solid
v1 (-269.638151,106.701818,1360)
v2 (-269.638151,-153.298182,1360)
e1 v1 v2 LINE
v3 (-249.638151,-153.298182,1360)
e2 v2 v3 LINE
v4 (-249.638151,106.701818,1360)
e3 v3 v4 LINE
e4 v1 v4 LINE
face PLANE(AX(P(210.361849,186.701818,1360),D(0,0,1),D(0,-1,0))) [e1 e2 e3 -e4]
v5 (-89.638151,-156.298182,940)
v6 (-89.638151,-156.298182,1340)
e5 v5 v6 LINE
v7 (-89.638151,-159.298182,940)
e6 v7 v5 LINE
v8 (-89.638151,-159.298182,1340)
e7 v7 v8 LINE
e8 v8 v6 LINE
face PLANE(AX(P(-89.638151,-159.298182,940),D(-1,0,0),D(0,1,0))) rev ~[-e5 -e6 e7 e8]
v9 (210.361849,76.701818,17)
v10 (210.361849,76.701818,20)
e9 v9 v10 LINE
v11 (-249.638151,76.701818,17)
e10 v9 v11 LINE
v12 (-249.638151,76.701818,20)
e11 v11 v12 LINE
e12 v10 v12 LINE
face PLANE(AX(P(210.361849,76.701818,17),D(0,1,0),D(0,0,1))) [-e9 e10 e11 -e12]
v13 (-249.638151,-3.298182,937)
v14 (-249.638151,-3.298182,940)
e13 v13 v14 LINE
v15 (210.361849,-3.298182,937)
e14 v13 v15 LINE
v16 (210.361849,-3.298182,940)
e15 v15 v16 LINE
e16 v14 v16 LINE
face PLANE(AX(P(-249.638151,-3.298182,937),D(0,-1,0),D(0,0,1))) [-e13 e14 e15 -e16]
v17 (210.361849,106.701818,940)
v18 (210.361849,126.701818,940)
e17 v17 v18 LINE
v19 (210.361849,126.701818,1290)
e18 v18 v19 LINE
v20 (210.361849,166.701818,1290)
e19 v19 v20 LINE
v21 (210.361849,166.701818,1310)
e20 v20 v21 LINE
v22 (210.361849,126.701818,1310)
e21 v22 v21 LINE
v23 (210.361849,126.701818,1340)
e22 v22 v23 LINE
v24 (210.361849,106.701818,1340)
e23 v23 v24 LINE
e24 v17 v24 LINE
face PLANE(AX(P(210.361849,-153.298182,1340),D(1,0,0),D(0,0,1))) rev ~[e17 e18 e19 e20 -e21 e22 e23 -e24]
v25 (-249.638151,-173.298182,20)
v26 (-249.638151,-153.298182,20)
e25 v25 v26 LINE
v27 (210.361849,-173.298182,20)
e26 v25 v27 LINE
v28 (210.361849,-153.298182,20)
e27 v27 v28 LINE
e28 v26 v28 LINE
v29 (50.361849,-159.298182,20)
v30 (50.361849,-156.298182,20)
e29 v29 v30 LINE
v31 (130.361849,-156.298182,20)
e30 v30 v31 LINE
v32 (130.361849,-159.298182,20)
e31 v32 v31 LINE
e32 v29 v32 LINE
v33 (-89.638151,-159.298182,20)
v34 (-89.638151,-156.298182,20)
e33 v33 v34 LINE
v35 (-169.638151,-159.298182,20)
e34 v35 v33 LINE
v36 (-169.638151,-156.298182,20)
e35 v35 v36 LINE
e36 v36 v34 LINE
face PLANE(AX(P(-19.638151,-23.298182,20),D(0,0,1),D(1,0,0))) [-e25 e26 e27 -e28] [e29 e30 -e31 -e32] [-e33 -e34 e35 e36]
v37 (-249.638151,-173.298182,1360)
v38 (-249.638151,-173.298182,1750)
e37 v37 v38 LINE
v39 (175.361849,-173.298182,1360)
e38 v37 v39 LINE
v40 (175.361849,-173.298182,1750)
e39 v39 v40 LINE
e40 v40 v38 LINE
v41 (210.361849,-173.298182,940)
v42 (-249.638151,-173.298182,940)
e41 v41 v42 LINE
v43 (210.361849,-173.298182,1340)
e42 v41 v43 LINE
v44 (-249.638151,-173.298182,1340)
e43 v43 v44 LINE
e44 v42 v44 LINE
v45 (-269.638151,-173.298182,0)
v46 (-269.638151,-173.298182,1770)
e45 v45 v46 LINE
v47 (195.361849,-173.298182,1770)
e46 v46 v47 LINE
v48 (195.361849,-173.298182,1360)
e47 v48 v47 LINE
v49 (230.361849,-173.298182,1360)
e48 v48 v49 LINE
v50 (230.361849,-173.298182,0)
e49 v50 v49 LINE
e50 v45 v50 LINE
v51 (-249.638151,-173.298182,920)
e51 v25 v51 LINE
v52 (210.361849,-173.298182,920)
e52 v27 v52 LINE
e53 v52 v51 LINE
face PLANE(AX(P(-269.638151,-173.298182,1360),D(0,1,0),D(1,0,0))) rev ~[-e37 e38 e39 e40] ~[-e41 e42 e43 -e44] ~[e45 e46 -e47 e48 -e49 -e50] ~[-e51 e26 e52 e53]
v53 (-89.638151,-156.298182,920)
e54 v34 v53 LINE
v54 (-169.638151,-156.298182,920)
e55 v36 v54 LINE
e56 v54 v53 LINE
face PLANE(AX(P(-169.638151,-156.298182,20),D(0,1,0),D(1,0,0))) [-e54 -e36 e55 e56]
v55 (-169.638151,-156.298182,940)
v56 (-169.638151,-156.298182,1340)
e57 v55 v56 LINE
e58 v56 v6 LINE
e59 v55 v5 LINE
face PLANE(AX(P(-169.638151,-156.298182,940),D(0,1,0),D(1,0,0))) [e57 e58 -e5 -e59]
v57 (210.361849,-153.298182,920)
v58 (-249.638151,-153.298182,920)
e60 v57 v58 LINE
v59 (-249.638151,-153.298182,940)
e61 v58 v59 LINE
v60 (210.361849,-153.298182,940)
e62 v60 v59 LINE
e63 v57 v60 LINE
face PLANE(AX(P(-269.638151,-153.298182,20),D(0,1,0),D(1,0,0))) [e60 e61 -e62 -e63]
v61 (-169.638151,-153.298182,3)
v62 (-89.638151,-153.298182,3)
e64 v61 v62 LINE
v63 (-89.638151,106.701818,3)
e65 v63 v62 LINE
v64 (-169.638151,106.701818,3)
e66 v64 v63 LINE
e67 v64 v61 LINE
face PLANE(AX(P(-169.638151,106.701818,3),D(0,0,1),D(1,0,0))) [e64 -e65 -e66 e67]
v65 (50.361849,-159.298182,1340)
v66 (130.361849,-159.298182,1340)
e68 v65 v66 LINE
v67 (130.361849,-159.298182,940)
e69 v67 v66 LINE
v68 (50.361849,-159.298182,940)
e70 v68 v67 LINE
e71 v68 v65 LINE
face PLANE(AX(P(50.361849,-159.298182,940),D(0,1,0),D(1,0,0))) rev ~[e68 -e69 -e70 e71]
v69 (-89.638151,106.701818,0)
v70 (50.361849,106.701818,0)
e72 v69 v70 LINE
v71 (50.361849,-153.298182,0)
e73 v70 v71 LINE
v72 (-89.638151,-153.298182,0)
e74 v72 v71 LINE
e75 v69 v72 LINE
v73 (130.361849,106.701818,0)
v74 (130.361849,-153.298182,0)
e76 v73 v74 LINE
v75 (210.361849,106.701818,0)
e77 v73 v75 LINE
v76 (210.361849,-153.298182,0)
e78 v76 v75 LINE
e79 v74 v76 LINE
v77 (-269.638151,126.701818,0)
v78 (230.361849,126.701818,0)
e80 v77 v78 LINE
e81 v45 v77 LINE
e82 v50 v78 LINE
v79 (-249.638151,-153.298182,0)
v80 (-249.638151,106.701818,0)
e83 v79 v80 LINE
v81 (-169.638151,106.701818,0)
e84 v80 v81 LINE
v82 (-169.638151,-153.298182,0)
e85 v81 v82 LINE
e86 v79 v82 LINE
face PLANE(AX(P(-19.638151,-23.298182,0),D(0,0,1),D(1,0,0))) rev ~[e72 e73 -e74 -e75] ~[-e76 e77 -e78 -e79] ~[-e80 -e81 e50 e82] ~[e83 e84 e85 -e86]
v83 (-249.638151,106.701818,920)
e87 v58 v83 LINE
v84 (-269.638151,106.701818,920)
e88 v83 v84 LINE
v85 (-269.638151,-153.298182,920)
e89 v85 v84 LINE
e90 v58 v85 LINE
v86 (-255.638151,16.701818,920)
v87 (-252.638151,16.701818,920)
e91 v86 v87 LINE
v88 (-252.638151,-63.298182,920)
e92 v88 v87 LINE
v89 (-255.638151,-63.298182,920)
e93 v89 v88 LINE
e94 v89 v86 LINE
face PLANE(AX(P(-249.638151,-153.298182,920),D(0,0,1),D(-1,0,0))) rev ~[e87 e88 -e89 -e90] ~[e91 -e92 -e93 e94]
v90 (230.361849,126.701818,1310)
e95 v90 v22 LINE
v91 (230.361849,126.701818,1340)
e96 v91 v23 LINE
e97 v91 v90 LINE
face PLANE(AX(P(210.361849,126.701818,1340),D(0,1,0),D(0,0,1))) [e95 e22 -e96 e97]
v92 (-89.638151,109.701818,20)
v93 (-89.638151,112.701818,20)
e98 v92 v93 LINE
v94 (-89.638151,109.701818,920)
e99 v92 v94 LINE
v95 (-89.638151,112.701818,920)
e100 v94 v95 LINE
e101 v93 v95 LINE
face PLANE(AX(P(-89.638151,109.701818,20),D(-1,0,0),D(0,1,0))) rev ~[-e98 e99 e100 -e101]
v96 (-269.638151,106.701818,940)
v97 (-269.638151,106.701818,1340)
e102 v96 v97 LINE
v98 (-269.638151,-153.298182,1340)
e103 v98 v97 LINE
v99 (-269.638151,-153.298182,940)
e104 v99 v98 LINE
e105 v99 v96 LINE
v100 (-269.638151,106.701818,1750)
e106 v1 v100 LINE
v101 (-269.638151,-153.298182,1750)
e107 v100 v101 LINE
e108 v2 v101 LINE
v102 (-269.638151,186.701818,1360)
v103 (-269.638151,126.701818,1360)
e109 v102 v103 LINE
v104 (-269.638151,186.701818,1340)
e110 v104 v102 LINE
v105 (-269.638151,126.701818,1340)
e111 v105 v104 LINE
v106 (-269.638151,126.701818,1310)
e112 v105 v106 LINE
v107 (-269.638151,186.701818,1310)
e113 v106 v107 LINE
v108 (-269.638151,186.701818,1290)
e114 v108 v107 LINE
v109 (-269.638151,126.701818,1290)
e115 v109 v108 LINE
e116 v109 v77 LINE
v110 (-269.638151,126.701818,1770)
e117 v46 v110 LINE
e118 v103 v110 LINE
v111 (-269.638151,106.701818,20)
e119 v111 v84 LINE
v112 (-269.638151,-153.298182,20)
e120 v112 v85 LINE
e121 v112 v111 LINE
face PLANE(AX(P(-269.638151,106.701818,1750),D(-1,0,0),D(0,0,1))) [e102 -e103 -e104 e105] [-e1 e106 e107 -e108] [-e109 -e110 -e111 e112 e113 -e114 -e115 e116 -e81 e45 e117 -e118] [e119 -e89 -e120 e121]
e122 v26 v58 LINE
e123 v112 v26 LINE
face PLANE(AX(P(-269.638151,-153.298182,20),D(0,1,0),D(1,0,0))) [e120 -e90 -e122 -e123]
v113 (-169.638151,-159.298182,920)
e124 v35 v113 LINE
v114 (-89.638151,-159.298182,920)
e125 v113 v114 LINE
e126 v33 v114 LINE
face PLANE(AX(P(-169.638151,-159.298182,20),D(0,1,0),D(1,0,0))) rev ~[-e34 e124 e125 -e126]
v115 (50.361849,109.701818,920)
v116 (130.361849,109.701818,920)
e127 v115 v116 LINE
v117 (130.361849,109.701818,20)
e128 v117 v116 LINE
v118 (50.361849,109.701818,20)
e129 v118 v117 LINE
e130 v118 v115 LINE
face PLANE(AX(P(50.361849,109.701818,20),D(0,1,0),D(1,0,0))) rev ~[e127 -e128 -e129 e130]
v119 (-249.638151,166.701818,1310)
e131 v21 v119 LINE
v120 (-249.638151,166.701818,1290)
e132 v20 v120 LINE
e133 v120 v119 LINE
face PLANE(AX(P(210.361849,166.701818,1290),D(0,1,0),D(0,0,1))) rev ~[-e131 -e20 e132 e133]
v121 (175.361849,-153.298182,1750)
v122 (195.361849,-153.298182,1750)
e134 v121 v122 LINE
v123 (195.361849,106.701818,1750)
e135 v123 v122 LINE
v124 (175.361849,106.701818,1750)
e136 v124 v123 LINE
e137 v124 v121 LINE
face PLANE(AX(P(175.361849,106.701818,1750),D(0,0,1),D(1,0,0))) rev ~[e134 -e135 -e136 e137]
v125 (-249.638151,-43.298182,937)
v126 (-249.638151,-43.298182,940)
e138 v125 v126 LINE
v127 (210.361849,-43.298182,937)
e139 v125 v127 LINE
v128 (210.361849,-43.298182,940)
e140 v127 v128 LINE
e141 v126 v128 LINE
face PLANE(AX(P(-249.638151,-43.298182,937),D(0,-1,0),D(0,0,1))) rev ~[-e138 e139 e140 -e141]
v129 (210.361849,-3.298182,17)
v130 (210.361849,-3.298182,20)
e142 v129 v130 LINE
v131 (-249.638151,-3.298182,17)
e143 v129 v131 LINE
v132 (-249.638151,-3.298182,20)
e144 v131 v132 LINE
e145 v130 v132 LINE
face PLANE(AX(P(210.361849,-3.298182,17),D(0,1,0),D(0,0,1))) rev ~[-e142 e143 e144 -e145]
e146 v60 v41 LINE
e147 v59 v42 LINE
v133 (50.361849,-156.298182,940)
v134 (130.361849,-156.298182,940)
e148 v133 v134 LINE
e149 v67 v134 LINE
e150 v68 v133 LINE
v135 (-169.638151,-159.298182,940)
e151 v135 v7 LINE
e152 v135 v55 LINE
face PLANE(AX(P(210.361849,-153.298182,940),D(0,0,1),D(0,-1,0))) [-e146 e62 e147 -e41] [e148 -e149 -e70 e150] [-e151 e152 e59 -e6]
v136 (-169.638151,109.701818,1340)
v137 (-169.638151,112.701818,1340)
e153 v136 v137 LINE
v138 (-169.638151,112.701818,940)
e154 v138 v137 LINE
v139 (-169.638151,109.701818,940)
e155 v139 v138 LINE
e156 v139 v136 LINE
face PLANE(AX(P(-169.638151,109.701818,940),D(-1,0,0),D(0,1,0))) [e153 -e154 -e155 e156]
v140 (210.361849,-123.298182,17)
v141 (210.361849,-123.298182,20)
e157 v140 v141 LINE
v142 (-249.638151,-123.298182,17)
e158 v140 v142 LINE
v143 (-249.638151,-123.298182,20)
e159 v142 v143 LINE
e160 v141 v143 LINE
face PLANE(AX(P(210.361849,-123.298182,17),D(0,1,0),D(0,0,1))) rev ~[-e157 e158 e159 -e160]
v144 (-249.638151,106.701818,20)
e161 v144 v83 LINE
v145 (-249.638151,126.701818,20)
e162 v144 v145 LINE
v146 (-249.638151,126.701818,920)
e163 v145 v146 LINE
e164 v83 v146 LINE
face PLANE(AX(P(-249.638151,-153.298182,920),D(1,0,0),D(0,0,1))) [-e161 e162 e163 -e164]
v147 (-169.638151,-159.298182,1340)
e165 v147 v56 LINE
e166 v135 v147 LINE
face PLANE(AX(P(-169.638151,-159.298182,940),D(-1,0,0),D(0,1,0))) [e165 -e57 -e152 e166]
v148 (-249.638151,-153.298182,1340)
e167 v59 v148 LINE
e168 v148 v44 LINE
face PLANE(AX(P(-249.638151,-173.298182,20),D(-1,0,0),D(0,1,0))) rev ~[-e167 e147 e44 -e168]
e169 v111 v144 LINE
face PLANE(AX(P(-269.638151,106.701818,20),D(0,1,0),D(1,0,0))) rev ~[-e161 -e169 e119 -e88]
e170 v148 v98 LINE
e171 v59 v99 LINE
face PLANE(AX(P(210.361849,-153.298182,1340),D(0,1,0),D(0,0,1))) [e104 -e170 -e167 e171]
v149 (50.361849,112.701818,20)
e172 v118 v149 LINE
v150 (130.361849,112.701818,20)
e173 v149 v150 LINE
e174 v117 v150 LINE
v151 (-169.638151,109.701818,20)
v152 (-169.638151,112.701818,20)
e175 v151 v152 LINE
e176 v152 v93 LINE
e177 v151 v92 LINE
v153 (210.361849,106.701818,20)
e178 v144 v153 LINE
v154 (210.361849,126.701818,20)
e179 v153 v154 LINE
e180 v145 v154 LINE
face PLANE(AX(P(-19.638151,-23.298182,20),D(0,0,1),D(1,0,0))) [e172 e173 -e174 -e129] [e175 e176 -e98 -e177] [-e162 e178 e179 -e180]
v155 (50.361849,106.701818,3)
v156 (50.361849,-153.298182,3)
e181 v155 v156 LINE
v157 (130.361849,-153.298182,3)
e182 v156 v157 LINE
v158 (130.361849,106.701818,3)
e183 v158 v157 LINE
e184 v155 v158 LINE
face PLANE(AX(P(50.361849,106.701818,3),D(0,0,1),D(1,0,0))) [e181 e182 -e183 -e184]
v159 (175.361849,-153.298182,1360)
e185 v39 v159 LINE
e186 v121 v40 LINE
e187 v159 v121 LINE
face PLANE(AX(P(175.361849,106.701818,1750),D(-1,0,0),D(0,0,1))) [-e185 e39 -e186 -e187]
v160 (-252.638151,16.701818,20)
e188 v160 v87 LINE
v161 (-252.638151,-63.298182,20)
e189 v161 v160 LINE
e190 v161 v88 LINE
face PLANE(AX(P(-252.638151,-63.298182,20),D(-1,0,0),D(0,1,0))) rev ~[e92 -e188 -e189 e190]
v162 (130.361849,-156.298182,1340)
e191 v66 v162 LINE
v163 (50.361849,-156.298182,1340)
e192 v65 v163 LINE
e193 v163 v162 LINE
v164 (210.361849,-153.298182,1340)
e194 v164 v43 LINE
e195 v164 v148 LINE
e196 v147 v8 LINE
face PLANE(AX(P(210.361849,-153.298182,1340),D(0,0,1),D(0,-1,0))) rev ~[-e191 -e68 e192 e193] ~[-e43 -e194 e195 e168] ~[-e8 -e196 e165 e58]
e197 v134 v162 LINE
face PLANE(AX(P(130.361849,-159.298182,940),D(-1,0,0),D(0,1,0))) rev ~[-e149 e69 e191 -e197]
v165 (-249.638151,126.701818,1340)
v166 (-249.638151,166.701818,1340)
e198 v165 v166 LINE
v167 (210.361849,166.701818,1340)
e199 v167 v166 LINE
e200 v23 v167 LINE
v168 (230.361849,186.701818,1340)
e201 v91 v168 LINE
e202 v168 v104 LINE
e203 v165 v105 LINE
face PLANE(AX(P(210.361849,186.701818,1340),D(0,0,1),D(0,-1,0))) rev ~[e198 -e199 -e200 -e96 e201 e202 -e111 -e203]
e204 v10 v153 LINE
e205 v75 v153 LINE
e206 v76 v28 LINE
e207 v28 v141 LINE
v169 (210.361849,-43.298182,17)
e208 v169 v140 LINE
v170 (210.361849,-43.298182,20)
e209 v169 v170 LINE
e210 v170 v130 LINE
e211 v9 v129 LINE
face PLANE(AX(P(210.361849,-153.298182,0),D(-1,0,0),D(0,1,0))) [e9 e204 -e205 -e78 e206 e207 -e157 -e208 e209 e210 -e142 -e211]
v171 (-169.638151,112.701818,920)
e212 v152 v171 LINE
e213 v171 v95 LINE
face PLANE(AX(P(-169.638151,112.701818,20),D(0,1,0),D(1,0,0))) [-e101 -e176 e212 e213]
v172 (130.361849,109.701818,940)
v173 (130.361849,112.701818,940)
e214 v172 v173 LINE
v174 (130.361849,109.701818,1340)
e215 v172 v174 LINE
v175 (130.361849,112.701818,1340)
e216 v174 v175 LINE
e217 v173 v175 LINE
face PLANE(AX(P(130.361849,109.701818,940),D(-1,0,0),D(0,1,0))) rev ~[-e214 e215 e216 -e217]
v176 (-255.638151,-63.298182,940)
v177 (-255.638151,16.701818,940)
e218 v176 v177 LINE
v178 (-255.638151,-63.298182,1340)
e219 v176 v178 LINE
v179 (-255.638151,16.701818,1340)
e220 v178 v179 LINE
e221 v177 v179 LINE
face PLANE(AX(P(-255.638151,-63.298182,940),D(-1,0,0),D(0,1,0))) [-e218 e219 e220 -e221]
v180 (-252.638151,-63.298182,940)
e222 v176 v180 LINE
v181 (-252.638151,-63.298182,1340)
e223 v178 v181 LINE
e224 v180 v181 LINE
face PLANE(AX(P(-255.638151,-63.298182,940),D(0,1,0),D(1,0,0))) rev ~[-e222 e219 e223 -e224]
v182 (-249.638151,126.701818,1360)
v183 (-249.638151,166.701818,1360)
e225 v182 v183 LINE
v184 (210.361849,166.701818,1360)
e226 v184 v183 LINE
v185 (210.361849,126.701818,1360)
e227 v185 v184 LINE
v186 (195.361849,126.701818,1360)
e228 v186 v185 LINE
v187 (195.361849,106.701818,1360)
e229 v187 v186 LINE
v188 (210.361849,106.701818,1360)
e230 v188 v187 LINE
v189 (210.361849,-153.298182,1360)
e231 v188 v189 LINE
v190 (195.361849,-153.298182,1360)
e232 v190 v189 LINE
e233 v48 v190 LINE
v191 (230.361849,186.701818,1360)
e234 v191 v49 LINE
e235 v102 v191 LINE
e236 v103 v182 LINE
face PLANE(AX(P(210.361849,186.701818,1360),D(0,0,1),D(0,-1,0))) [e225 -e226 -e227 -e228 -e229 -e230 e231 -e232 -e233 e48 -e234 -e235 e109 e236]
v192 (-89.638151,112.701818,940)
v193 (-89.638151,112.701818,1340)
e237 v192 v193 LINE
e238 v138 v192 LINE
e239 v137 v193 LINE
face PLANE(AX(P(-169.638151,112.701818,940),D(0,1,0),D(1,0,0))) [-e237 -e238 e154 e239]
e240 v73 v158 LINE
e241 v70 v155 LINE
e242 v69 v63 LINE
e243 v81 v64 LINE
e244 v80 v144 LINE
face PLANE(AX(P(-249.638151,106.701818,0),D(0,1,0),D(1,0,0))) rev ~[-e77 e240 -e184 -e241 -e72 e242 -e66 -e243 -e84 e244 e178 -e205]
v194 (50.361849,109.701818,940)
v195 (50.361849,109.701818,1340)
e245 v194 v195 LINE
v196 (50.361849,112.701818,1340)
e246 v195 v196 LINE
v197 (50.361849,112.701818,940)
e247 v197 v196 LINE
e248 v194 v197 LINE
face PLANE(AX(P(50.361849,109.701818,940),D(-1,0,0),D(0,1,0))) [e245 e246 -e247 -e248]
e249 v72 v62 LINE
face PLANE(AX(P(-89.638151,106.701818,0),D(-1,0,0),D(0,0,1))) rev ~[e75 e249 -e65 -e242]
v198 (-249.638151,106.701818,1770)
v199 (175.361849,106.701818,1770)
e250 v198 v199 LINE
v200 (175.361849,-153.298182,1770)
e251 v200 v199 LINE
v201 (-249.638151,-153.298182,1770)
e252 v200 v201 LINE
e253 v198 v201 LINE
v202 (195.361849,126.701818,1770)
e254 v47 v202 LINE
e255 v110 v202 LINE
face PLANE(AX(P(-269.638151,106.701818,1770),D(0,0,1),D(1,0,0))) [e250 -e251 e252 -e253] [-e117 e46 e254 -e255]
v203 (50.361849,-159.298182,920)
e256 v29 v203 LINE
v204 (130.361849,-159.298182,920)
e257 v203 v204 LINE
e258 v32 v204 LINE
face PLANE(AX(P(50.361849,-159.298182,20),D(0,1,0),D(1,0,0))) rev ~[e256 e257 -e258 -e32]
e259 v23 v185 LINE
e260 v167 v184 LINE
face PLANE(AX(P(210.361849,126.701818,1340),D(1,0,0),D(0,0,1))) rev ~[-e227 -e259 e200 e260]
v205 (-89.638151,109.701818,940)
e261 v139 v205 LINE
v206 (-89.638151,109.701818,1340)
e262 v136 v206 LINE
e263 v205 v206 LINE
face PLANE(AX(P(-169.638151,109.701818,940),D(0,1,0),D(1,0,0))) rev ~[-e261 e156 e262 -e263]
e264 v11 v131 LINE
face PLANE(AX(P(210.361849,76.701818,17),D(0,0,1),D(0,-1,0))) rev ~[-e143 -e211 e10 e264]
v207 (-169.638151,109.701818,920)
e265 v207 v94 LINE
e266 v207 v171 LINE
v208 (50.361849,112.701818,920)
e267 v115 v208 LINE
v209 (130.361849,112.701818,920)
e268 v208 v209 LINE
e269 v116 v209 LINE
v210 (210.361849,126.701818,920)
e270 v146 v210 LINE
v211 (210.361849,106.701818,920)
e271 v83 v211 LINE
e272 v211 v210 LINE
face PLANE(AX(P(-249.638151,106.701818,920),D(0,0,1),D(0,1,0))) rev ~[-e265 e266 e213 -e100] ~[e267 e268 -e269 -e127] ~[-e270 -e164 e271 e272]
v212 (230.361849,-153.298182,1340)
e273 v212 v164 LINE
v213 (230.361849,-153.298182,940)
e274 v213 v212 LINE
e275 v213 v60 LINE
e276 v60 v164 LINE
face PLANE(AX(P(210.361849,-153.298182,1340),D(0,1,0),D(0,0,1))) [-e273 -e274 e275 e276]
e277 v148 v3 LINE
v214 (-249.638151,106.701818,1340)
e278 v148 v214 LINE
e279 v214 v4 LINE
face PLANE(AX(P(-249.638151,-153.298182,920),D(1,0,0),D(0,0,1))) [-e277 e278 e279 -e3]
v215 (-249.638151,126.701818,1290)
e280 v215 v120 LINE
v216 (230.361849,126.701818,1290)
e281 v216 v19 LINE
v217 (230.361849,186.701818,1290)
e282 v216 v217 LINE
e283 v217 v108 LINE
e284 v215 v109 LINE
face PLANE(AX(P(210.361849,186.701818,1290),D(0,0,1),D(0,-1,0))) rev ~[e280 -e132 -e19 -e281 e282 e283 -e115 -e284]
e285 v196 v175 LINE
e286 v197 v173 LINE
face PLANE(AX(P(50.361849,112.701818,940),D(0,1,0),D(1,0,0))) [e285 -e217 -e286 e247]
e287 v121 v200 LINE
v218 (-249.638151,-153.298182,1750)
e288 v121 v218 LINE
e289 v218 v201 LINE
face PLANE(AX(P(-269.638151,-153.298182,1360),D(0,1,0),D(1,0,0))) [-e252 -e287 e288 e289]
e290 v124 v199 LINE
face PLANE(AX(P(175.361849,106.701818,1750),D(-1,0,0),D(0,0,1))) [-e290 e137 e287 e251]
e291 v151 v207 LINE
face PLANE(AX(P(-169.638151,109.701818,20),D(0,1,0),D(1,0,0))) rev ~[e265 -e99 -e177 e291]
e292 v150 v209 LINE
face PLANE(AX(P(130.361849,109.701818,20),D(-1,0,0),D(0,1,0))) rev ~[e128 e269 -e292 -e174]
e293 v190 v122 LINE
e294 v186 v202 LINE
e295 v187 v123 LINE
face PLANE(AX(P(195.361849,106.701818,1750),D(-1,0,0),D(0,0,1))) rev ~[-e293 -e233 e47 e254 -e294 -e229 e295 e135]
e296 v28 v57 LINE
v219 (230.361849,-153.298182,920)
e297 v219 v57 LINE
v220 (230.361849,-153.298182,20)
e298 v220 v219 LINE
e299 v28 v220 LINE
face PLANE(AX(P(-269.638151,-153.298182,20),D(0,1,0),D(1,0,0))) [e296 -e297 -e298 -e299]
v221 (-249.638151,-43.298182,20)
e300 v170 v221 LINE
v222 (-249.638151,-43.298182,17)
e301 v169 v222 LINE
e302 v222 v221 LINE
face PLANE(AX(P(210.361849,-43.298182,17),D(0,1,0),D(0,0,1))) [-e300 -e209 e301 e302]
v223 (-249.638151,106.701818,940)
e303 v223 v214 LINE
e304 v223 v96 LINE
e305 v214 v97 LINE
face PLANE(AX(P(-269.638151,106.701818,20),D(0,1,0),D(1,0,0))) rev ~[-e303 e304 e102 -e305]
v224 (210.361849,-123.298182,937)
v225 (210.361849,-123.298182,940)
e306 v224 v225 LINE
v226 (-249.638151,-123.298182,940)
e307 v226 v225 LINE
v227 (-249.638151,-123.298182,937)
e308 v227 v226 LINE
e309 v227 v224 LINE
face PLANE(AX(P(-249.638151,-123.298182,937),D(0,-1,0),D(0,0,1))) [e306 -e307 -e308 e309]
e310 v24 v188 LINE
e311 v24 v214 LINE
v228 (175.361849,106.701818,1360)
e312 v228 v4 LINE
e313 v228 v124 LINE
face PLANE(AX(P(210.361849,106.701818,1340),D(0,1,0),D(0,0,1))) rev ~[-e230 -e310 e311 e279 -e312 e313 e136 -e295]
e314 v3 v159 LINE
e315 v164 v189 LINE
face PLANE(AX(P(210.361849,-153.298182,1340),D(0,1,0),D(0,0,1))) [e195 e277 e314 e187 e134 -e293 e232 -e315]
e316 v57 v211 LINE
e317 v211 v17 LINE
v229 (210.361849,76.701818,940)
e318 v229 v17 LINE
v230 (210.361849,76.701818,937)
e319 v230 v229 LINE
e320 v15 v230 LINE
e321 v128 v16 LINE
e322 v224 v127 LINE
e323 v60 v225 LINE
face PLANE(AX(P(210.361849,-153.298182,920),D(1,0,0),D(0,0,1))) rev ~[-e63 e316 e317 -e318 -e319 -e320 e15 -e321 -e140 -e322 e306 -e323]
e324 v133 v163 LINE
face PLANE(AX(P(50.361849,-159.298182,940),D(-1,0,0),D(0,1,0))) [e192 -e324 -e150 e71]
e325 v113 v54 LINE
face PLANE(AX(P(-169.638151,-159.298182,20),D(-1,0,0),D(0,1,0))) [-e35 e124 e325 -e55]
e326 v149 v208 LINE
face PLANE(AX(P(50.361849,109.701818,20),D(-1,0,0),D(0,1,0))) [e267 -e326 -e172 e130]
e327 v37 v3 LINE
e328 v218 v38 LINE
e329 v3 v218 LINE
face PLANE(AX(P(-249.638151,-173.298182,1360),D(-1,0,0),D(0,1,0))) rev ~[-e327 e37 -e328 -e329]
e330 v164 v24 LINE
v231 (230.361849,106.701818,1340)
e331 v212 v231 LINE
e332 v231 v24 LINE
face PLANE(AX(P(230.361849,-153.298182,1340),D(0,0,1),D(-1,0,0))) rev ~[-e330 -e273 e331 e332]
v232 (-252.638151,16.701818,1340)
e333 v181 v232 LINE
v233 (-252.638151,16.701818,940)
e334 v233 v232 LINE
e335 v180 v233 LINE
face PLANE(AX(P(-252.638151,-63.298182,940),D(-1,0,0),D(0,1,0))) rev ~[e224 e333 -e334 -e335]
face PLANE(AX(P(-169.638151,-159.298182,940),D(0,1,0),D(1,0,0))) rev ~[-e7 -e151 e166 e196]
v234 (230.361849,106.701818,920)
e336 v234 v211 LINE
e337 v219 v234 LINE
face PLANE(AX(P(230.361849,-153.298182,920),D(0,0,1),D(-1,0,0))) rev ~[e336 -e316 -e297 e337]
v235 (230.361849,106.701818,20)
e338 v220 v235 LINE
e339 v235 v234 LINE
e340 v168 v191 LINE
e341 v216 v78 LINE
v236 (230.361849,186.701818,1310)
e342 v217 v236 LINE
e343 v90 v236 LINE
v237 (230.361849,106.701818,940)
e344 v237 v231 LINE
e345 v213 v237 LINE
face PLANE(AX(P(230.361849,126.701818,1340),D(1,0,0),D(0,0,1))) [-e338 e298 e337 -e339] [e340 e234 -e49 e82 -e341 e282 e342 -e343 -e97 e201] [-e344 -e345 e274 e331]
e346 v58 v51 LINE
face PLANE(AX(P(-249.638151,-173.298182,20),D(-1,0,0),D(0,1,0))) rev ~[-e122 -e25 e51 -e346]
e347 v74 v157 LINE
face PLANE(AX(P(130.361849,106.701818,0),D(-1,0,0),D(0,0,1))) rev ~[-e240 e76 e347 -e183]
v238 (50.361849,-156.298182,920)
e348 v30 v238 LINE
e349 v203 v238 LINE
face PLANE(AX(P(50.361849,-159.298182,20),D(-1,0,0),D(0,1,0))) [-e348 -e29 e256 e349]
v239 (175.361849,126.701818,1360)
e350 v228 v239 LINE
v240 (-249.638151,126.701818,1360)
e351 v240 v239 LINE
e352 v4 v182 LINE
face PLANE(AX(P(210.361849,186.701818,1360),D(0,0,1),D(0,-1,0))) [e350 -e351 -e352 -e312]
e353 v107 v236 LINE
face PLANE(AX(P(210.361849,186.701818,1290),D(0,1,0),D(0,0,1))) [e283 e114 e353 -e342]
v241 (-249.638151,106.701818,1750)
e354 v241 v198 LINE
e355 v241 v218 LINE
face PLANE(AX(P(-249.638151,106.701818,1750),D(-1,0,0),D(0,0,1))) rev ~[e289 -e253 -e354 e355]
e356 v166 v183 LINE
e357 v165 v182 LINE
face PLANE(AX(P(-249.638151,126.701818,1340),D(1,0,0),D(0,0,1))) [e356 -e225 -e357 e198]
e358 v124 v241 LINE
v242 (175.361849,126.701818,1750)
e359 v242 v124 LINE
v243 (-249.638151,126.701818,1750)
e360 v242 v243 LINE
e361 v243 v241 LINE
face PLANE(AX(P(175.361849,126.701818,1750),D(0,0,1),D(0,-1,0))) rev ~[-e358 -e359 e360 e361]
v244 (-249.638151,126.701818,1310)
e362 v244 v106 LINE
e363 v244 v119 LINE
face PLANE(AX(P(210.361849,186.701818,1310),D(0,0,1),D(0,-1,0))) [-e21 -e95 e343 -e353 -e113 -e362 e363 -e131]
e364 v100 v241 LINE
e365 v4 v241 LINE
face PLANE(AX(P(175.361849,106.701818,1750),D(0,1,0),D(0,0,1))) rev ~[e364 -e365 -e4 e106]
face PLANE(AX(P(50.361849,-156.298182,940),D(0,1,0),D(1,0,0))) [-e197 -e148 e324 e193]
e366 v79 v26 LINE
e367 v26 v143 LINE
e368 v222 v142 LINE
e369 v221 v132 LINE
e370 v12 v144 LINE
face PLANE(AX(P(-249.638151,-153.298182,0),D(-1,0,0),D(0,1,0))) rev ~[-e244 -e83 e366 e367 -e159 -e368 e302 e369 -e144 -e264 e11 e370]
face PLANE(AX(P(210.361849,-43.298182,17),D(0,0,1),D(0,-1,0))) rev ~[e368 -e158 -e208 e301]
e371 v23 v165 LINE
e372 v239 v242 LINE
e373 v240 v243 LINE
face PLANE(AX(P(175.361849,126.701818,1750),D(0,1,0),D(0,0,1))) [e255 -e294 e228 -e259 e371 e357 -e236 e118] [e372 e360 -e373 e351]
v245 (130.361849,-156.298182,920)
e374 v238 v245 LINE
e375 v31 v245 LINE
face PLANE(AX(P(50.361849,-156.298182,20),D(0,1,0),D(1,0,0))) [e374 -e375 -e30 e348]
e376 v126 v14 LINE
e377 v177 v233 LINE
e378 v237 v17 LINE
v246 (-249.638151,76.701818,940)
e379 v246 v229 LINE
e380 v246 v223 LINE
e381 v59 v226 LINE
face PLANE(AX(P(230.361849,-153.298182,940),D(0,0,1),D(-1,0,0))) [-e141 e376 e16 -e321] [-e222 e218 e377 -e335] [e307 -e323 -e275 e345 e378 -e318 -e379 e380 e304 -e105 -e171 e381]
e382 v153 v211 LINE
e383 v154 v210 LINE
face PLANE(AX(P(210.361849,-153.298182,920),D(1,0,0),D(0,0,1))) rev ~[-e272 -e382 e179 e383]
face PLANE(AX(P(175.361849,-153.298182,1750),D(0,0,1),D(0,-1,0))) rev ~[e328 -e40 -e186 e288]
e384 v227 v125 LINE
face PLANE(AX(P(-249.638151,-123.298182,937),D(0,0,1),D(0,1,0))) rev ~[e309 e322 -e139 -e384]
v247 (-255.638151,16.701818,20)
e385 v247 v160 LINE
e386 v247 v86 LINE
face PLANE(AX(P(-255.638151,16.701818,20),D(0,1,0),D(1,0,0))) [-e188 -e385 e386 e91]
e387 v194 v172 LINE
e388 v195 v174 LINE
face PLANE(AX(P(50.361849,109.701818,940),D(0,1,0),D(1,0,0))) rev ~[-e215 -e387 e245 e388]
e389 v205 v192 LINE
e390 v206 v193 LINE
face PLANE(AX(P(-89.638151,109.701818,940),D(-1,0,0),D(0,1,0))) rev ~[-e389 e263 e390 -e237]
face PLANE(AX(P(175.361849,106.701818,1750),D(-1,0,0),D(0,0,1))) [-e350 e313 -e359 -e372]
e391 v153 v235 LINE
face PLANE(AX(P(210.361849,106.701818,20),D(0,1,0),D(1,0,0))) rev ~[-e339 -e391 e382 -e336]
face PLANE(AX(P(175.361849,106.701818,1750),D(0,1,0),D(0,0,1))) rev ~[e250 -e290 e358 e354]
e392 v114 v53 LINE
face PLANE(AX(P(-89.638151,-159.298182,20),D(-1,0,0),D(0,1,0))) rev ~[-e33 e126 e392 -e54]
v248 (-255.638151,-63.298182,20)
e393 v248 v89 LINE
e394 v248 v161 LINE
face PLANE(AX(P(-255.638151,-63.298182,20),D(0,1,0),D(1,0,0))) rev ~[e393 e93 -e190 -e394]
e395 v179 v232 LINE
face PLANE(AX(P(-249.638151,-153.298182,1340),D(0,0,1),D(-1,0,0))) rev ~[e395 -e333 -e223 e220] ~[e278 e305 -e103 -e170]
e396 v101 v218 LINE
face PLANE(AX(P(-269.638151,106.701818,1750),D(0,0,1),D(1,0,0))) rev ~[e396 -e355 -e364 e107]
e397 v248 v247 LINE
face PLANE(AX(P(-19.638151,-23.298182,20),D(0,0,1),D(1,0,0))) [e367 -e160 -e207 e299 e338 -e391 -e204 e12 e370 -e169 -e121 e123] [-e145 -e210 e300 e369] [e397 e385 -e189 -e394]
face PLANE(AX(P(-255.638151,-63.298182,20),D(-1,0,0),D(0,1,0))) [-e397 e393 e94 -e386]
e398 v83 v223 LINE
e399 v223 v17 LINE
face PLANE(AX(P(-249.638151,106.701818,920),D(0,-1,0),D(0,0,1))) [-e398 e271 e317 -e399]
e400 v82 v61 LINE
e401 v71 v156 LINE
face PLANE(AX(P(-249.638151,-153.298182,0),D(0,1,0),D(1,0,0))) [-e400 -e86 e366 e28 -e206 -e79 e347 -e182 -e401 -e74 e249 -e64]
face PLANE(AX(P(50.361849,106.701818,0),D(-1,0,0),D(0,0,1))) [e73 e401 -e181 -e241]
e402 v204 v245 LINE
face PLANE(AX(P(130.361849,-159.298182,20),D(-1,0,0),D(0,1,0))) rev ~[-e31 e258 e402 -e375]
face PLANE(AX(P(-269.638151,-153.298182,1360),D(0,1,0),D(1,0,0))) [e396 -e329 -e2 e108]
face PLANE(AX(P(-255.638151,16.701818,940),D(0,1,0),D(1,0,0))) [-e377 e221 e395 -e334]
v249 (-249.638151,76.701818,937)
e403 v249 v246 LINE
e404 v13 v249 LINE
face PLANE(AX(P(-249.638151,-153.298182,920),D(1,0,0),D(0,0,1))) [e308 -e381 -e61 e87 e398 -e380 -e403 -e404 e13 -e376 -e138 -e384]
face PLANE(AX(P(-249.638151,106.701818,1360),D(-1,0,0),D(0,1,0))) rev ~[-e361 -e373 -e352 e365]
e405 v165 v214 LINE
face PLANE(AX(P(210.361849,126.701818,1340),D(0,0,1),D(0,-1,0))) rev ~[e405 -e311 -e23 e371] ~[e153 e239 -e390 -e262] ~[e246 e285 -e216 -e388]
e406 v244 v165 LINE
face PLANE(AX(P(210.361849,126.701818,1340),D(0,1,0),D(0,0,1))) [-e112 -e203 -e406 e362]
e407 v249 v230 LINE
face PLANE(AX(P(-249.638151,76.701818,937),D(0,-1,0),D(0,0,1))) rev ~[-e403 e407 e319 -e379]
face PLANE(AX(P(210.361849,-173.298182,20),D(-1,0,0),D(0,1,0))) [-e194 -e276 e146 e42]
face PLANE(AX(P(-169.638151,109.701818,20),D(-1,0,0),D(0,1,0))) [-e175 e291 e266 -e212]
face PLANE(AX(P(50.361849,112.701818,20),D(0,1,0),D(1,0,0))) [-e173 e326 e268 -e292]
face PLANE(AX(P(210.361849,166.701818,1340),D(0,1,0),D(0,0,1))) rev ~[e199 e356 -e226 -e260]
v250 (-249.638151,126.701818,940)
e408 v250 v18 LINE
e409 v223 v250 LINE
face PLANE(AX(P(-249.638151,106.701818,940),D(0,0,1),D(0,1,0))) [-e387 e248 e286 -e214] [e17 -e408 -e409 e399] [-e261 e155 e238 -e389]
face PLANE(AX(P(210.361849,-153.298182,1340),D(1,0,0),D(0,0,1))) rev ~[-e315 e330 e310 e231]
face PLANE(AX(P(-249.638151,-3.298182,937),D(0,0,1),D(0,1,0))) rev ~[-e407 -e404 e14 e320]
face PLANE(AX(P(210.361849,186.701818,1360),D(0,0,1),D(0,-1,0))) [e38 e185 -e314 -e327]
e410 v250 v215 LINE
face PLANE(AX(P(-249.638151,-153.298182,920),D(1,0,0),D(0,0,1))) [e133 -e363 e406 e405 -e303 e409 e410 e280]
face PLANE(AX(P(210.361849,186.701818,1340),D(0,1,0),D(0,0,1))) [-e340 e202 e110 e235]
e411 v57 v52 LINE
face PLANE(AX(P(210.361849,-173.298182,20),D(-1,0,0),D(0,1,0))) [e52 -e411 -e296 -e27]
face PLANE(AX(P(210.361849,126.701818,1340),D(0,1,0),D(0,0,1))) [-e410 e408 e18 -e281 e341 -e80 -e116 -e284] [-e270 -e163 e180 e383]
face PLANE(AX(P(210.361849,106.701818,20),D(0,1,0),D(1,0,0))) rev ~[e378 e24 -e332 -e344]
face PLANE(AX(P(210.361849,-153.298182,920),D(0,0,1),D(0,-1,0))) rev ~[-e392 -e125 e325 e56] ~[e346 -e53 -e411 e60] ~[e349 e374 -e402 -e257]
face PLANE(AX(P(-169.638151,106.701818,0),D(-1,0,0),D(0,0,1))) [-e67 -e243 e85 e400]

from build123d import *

# Parameters (mm, degrees)
F0_W      = 500
F0_H      = 300
F0_W_2    = 460
F0_H_2    = 260
F1_DEPTH  = 20
F2_W      = 80
F2_H      = 3
F3_DEPTH  = 260
F4_W      = 80
F4_H      = 3
F5_DEPTH  = 460
F6_W      = 20
F6_H      = 20
F7_DEPTH  = 1340
F8_W      = 20
F8_H      = 20
F9_DEPTH  = 460
F10_W     = 20
F10_H     = 20
F11_DEPTH = 260
F12_W     = 20
F12_H     = 20
F13_DEPTH = 460
F14_W     = 3
F14_H     = 80
F15_DEPTH = 900
F16_W     = 80
F16_H     = 3
F17_DEPTH = 900
F18_W     = 80
F18_H     = 3
F19_DEPTH = 900
F20_W     = 20
F20_H     = 20
F21_DEPTH = 460
F22_W     = 20
F22_H     = 20
F23_DEPTH = 260
F24_W     = 20
F24_H     = 20
F25_DEPTH = 460
F26_W     = 80
F26_H     = 3
F27_DEPTH = 460
F28_W     = 3
F28_H     = 80
F29_DEPTH = 400
F30_W     = 80
F30_H     = 3
F31_DEPTH = 400
F32_W     = 80
F32_H     = 3
F33_DEPTH = 400
F34_W     = 20
F34_H     = 20
F35_DEPTH = 60
F36_W     = 20
F36_H     = 20
F37_DEPTH = 460
F38_W     = 20
F38_H     = 20
F39_DEPTH = 410
F40_W     = 20
F40_H     = 20
F41_DEPTH = 260
F42_W     = 20
F42_H     = 20
F42_W_2   = 19.9999999999
F43_DEPTH = 425
F44_W     = 20
F44_H     = 20
F45_DEPTH = 260
F46_W     = 20
F46_H     = 20
F47_DEPTH = 460


with BuildPart() as f1:
    # F0 (on Top) → F1 (new body)
    with BuildSketch(Plane.XY):
        with Locations((-19.6381509304, -23.2981824888)):
            Rectangle(F0_W, F0_H)
        with Locations((-19.6381509304, -23.2981824888)):
            Rectangle(F0_W_2, F0_H_2, mode=Mode.SUBTRACT)
    extrude(amount=F1_DEPTH)

    # F2 (on face) → F3 (join, through all)
    with BuildSketch(Plane.XZ.offset(-106.7018175112)):
        with Locations((-129.6381509304, 1.5)):
            Rectangle(F2_W, F2_H)
        with Locations((90.3618490696, 1.5)):
            Rectangle(F2_W, F2_H)
    extrude(amount=F3_DEPTH)

    # F4 (on face) → F5 (join, through all)
    with BuildSketch(Plane(origin=(210.3618490696, 0, 0), x_dir=(0, -1, 0), z_dir=(-1, 0, 0))):
        with Locations((-36.7018175112, 18.5)):
            Rectangle(F4_W, F4_H)
        with Locations((83.2981824888, 18.5)):
            Rectangle(F4_W, F4_H)
    extrude(amount=F5_DEPTH)

    # F6 (on face) → F7 (join)
    with BuildSketch(Plane.XY.offset(20)):
        with Locations((-259.6381509304, 116.7018175112)):
            Rectangle(F6_W, F6_H)
        with Locations((-259.6381509304, -163.2981824888)):
            Rectangle(F6_W, F6_H)
        with Locations((220.3618490696, -163.2981824888)):
            Rectangle(F6_W, F6_H)
        with Locations((220.3618490696, 116.7018175112)):
            Rectangle(F6_W, F6_H)
    extrude(amount=F7_DEPTH)

    # F8 (on face) → F9 (join, through all)
    with BuildSketch(Plane(origin=(210.3618490696, 0, 0), x_dir=(0, -1, 0), z_dir=(-1, 0, 0))):
        with Locations((163.2981824888, 930)):
            Rectangle(F8_W, F8_H)
    extrude(amount=F9_DEPTH)

    # F10 (on face) → F11 (join, through all)
    with BuildSketch(Plane(origin=(0, -153.2981824888, 0), x_dir=(-1, 0, 0), z_dir=(0, 1, 0))):
        with Locations((259.6381509304, 930)):
            Rectangle(F10_W, F10_H)
        with Locations((-220.3618490696, 930)):
            Rectangle(F10_W, F10_H)
    extrude(amount=F11_DEPTH)

    # F12 (on face) → F13 (join, through all)
    with BuildSketch(Plane.YZ.offset(-249.6381509304)):
        with Locations((116.7018175112, 930)):
            Rectangle(F12_W, F12_H)
    extrude(amount=F13_DEPTH)

    # F14 (on face) → F15 (join, through all)
    with BuildSketch(Plane.XY.offset(20)):
        with Locations((-254.1381509304, -23.2981824888)):
            Rectangle(F14_W, F14_H)
    extrude(amount=F15_DEPTH)

    # F16 (on face) → F17 (join, through all)
    with BuildSketch(Plane.XY.offset(20)):
        with Locations((90.3618490696, 111.2018175112)):
            Rectangle(F16_W, F16_H)
        with Locations((-129.6381509304, 111.2018175112)):
            Rectangle(F16_W, F16_H)
    extrude(amount=F17_DEPTH)

    # F18 (on face) → F19 (join, through all)
    with BuildSketch(Plane.XY.offset(20)):
        with Locations((-129.6381509304, -157.7981824888)):
            Rectangle(F18_W, F18_H)
        with Locations((90.3618490696, -157.7981824888)):
            Rectangle(F18_W, F18_H)
    extrude(amount=F19_DEPTH)

    # F20 (on face) → F21 (join, through all)
    with BuildSketch(Plane(origin=(210.3618490696, 0, 0), x_dir=(0, -1, 0), z_dir=(-1, 0, 0))):
        with Locations((163.2981824888, 1350)):
            Rectangle(F20_W, F20_H)
    extrude(amount=F21_DEPTH)

    # F22 (on face) → F23 (join, through all)
    with BuildSketch(Plane(origin=(0, -153.2981824888, 0), x_dir=(-1, 0, 0), z_dir=(0, 1, 0))):
        with Locations((-220.3618490696, 1350)):
            Rectangle(F22_W, F22_H)
        with Locations((259.6381509304, 1350)):
            Rectangle(F22_W, F22_H)
    extrude(amount=F23_DEPTH)

    # F24 (on face) → F25 (join, through all)
    with BuildSketch(Plane(origin=(210.3618490696, 0, 0), x_dir=(0, -1, 0), z_dir=(-1, 0, 0))):
        with Locations((-116.7018175112, 1350)):
            Rectangle(F24_W, F24_H)
    extrude(amount=F25_DEPTH)

    # F26 (on face) → F27 (join, through all)
    with BuildSketch(Plane.YZ.offset(-249.6381509304)):
        with Locations((-83.2981824888, 938.5)):
            Rectangle(F26_W, F26_H)
        with Locations((36.7018175112, 938.5)):
            Rectangle(F26_W, F26_H)
    extrude(amount=F27_DEPTH)

    # F28 (on face) → F29 (join, through all)
    with BuildSketch(Plane.XY.offset(940)):
        with Locations((-254.1381509304, -23.2981824888)):
            Rectangle(F28_W, F28_H)
    extrude(amount=F29_DEPTH)

    # F30 (on face) → F31 (join, through all)
    with BuildSketch(Plane.XY.offset(940)):
        with Locations((90.3618490696, -157.7981824888)):
            Rectangle(F30_W, F30_H)
        with Locations((-129.6381509304, -157.7981824888)):
            Rectangle(F30_W, F30_H)
    extrude(amount=F31_DEPTH)

    # F32 (on face) → F33 (join, through all)
    with BuildSketch(Plane.XY.offset(940)):
        with Locations((90.3618490696, 111.2018175112)):
            Rectangle(F32_W, F32_H)
        with Locations((-129.6381509304, 111.2018175112)):
            Rectangle(F32_W, F32_H)
    extrude(amount=F33_DEPTH)

    # F34 (on face) → F35 (join)
    with BuildSketch(Plane(origin=(0, 126.7018175112, 0), x_dir=(-1, 0, 0), z_dir=(0, 1, 0))):
        with Locations((-220.3618490696, 1350)):
            Rectangle(F34_W, F34_H)
        with Locations((259.6381509304, 1350)):
            Rectangle(F34_W, F34_H)
        with Locations((-220.3618490696, 1300)):
            Rectangle(F34_W, F34_H)
        with Locations((259.6381509304, 1300)):
            Rectangle(F34_W, F34_H)
    extrude(amount=F35_DEPTH)

    # F36 (on face) → F37 (join, through all)
    with BuildSketch(Plane(origin=(210.3618490696, 0, 0), x_dir=(0, -1, 0), z_dir=(-1, 0, 0))):
        with Locations((-176.7018175112, 1350)):
            Rectangle(F36_W, F36_H)
    extrude(amount=F37_DEPTH)

    # F38 (on face) → F39 (join)
    with BuildSketch(Plane.XY.offset(1360)):
        with Locations((-259.6381509304, -163.2981824888)):
            Rectangle(F38_W, F38_H)
        with Locations((-259.6381509304, 116.7018175112)):
            Rectangle(F38_W, F38_H)
        with Locations((185.3618490696, 116.7018175112)):
            Rectangle(F38_W, F38_H)
        with Locations((185.3618490696, -163.2981824888)):
            Rectangle(F38_W, F38_H)
    extrude(amount=F39_DEPTH)

    # F40 (on face) → F41 (join, through all)
    with BuildSketch(Plane.XZ.offset(-106.7018175112)):
        with Locations((185.3618490696, 1760)):
            Rectangle(F40_W, F40_H)
    extrude(amount=F41_DEPTH)

    # F42 (on face) → F43 (join, through all)
    with BuildSketch(Plane(origin=(175.3618490696, 0, 0), x_dir=(0, -1, 0), z_dir=(-1, 0, 0))):
        with Locations((-116.7018175112, 1760)):
            Rectangle(F42_W, F42_H)
        with Locations((163.2981824889, 1760)):
            Rectangle(F42_W_2, F42_H)
    extrude(amount=F43_DEPTH)

    # F44 (on face) → F45 (join, through all)
    with BuildSketch(Plane.XZ.offset(-106.7018175112)):
        with Locations((-259.6381509304, 1760)):
            Rectangle(F44_W, F44_H)
    extrude(amount=F45_DEPTH)

    # F46 (on face) → F47 (join, through all)
    with BuildSketch(Plane(origin=(210.3618490696, 0, 0), x_dir=(0, -1, 0), z_dir=(-1, 0, 0))):
        with Locations((-176.7018175112, 1300)):
            Rectangle(F46_W, F46_H)
    extrude(amount=F47_DEPTH)


solid = f1.part
